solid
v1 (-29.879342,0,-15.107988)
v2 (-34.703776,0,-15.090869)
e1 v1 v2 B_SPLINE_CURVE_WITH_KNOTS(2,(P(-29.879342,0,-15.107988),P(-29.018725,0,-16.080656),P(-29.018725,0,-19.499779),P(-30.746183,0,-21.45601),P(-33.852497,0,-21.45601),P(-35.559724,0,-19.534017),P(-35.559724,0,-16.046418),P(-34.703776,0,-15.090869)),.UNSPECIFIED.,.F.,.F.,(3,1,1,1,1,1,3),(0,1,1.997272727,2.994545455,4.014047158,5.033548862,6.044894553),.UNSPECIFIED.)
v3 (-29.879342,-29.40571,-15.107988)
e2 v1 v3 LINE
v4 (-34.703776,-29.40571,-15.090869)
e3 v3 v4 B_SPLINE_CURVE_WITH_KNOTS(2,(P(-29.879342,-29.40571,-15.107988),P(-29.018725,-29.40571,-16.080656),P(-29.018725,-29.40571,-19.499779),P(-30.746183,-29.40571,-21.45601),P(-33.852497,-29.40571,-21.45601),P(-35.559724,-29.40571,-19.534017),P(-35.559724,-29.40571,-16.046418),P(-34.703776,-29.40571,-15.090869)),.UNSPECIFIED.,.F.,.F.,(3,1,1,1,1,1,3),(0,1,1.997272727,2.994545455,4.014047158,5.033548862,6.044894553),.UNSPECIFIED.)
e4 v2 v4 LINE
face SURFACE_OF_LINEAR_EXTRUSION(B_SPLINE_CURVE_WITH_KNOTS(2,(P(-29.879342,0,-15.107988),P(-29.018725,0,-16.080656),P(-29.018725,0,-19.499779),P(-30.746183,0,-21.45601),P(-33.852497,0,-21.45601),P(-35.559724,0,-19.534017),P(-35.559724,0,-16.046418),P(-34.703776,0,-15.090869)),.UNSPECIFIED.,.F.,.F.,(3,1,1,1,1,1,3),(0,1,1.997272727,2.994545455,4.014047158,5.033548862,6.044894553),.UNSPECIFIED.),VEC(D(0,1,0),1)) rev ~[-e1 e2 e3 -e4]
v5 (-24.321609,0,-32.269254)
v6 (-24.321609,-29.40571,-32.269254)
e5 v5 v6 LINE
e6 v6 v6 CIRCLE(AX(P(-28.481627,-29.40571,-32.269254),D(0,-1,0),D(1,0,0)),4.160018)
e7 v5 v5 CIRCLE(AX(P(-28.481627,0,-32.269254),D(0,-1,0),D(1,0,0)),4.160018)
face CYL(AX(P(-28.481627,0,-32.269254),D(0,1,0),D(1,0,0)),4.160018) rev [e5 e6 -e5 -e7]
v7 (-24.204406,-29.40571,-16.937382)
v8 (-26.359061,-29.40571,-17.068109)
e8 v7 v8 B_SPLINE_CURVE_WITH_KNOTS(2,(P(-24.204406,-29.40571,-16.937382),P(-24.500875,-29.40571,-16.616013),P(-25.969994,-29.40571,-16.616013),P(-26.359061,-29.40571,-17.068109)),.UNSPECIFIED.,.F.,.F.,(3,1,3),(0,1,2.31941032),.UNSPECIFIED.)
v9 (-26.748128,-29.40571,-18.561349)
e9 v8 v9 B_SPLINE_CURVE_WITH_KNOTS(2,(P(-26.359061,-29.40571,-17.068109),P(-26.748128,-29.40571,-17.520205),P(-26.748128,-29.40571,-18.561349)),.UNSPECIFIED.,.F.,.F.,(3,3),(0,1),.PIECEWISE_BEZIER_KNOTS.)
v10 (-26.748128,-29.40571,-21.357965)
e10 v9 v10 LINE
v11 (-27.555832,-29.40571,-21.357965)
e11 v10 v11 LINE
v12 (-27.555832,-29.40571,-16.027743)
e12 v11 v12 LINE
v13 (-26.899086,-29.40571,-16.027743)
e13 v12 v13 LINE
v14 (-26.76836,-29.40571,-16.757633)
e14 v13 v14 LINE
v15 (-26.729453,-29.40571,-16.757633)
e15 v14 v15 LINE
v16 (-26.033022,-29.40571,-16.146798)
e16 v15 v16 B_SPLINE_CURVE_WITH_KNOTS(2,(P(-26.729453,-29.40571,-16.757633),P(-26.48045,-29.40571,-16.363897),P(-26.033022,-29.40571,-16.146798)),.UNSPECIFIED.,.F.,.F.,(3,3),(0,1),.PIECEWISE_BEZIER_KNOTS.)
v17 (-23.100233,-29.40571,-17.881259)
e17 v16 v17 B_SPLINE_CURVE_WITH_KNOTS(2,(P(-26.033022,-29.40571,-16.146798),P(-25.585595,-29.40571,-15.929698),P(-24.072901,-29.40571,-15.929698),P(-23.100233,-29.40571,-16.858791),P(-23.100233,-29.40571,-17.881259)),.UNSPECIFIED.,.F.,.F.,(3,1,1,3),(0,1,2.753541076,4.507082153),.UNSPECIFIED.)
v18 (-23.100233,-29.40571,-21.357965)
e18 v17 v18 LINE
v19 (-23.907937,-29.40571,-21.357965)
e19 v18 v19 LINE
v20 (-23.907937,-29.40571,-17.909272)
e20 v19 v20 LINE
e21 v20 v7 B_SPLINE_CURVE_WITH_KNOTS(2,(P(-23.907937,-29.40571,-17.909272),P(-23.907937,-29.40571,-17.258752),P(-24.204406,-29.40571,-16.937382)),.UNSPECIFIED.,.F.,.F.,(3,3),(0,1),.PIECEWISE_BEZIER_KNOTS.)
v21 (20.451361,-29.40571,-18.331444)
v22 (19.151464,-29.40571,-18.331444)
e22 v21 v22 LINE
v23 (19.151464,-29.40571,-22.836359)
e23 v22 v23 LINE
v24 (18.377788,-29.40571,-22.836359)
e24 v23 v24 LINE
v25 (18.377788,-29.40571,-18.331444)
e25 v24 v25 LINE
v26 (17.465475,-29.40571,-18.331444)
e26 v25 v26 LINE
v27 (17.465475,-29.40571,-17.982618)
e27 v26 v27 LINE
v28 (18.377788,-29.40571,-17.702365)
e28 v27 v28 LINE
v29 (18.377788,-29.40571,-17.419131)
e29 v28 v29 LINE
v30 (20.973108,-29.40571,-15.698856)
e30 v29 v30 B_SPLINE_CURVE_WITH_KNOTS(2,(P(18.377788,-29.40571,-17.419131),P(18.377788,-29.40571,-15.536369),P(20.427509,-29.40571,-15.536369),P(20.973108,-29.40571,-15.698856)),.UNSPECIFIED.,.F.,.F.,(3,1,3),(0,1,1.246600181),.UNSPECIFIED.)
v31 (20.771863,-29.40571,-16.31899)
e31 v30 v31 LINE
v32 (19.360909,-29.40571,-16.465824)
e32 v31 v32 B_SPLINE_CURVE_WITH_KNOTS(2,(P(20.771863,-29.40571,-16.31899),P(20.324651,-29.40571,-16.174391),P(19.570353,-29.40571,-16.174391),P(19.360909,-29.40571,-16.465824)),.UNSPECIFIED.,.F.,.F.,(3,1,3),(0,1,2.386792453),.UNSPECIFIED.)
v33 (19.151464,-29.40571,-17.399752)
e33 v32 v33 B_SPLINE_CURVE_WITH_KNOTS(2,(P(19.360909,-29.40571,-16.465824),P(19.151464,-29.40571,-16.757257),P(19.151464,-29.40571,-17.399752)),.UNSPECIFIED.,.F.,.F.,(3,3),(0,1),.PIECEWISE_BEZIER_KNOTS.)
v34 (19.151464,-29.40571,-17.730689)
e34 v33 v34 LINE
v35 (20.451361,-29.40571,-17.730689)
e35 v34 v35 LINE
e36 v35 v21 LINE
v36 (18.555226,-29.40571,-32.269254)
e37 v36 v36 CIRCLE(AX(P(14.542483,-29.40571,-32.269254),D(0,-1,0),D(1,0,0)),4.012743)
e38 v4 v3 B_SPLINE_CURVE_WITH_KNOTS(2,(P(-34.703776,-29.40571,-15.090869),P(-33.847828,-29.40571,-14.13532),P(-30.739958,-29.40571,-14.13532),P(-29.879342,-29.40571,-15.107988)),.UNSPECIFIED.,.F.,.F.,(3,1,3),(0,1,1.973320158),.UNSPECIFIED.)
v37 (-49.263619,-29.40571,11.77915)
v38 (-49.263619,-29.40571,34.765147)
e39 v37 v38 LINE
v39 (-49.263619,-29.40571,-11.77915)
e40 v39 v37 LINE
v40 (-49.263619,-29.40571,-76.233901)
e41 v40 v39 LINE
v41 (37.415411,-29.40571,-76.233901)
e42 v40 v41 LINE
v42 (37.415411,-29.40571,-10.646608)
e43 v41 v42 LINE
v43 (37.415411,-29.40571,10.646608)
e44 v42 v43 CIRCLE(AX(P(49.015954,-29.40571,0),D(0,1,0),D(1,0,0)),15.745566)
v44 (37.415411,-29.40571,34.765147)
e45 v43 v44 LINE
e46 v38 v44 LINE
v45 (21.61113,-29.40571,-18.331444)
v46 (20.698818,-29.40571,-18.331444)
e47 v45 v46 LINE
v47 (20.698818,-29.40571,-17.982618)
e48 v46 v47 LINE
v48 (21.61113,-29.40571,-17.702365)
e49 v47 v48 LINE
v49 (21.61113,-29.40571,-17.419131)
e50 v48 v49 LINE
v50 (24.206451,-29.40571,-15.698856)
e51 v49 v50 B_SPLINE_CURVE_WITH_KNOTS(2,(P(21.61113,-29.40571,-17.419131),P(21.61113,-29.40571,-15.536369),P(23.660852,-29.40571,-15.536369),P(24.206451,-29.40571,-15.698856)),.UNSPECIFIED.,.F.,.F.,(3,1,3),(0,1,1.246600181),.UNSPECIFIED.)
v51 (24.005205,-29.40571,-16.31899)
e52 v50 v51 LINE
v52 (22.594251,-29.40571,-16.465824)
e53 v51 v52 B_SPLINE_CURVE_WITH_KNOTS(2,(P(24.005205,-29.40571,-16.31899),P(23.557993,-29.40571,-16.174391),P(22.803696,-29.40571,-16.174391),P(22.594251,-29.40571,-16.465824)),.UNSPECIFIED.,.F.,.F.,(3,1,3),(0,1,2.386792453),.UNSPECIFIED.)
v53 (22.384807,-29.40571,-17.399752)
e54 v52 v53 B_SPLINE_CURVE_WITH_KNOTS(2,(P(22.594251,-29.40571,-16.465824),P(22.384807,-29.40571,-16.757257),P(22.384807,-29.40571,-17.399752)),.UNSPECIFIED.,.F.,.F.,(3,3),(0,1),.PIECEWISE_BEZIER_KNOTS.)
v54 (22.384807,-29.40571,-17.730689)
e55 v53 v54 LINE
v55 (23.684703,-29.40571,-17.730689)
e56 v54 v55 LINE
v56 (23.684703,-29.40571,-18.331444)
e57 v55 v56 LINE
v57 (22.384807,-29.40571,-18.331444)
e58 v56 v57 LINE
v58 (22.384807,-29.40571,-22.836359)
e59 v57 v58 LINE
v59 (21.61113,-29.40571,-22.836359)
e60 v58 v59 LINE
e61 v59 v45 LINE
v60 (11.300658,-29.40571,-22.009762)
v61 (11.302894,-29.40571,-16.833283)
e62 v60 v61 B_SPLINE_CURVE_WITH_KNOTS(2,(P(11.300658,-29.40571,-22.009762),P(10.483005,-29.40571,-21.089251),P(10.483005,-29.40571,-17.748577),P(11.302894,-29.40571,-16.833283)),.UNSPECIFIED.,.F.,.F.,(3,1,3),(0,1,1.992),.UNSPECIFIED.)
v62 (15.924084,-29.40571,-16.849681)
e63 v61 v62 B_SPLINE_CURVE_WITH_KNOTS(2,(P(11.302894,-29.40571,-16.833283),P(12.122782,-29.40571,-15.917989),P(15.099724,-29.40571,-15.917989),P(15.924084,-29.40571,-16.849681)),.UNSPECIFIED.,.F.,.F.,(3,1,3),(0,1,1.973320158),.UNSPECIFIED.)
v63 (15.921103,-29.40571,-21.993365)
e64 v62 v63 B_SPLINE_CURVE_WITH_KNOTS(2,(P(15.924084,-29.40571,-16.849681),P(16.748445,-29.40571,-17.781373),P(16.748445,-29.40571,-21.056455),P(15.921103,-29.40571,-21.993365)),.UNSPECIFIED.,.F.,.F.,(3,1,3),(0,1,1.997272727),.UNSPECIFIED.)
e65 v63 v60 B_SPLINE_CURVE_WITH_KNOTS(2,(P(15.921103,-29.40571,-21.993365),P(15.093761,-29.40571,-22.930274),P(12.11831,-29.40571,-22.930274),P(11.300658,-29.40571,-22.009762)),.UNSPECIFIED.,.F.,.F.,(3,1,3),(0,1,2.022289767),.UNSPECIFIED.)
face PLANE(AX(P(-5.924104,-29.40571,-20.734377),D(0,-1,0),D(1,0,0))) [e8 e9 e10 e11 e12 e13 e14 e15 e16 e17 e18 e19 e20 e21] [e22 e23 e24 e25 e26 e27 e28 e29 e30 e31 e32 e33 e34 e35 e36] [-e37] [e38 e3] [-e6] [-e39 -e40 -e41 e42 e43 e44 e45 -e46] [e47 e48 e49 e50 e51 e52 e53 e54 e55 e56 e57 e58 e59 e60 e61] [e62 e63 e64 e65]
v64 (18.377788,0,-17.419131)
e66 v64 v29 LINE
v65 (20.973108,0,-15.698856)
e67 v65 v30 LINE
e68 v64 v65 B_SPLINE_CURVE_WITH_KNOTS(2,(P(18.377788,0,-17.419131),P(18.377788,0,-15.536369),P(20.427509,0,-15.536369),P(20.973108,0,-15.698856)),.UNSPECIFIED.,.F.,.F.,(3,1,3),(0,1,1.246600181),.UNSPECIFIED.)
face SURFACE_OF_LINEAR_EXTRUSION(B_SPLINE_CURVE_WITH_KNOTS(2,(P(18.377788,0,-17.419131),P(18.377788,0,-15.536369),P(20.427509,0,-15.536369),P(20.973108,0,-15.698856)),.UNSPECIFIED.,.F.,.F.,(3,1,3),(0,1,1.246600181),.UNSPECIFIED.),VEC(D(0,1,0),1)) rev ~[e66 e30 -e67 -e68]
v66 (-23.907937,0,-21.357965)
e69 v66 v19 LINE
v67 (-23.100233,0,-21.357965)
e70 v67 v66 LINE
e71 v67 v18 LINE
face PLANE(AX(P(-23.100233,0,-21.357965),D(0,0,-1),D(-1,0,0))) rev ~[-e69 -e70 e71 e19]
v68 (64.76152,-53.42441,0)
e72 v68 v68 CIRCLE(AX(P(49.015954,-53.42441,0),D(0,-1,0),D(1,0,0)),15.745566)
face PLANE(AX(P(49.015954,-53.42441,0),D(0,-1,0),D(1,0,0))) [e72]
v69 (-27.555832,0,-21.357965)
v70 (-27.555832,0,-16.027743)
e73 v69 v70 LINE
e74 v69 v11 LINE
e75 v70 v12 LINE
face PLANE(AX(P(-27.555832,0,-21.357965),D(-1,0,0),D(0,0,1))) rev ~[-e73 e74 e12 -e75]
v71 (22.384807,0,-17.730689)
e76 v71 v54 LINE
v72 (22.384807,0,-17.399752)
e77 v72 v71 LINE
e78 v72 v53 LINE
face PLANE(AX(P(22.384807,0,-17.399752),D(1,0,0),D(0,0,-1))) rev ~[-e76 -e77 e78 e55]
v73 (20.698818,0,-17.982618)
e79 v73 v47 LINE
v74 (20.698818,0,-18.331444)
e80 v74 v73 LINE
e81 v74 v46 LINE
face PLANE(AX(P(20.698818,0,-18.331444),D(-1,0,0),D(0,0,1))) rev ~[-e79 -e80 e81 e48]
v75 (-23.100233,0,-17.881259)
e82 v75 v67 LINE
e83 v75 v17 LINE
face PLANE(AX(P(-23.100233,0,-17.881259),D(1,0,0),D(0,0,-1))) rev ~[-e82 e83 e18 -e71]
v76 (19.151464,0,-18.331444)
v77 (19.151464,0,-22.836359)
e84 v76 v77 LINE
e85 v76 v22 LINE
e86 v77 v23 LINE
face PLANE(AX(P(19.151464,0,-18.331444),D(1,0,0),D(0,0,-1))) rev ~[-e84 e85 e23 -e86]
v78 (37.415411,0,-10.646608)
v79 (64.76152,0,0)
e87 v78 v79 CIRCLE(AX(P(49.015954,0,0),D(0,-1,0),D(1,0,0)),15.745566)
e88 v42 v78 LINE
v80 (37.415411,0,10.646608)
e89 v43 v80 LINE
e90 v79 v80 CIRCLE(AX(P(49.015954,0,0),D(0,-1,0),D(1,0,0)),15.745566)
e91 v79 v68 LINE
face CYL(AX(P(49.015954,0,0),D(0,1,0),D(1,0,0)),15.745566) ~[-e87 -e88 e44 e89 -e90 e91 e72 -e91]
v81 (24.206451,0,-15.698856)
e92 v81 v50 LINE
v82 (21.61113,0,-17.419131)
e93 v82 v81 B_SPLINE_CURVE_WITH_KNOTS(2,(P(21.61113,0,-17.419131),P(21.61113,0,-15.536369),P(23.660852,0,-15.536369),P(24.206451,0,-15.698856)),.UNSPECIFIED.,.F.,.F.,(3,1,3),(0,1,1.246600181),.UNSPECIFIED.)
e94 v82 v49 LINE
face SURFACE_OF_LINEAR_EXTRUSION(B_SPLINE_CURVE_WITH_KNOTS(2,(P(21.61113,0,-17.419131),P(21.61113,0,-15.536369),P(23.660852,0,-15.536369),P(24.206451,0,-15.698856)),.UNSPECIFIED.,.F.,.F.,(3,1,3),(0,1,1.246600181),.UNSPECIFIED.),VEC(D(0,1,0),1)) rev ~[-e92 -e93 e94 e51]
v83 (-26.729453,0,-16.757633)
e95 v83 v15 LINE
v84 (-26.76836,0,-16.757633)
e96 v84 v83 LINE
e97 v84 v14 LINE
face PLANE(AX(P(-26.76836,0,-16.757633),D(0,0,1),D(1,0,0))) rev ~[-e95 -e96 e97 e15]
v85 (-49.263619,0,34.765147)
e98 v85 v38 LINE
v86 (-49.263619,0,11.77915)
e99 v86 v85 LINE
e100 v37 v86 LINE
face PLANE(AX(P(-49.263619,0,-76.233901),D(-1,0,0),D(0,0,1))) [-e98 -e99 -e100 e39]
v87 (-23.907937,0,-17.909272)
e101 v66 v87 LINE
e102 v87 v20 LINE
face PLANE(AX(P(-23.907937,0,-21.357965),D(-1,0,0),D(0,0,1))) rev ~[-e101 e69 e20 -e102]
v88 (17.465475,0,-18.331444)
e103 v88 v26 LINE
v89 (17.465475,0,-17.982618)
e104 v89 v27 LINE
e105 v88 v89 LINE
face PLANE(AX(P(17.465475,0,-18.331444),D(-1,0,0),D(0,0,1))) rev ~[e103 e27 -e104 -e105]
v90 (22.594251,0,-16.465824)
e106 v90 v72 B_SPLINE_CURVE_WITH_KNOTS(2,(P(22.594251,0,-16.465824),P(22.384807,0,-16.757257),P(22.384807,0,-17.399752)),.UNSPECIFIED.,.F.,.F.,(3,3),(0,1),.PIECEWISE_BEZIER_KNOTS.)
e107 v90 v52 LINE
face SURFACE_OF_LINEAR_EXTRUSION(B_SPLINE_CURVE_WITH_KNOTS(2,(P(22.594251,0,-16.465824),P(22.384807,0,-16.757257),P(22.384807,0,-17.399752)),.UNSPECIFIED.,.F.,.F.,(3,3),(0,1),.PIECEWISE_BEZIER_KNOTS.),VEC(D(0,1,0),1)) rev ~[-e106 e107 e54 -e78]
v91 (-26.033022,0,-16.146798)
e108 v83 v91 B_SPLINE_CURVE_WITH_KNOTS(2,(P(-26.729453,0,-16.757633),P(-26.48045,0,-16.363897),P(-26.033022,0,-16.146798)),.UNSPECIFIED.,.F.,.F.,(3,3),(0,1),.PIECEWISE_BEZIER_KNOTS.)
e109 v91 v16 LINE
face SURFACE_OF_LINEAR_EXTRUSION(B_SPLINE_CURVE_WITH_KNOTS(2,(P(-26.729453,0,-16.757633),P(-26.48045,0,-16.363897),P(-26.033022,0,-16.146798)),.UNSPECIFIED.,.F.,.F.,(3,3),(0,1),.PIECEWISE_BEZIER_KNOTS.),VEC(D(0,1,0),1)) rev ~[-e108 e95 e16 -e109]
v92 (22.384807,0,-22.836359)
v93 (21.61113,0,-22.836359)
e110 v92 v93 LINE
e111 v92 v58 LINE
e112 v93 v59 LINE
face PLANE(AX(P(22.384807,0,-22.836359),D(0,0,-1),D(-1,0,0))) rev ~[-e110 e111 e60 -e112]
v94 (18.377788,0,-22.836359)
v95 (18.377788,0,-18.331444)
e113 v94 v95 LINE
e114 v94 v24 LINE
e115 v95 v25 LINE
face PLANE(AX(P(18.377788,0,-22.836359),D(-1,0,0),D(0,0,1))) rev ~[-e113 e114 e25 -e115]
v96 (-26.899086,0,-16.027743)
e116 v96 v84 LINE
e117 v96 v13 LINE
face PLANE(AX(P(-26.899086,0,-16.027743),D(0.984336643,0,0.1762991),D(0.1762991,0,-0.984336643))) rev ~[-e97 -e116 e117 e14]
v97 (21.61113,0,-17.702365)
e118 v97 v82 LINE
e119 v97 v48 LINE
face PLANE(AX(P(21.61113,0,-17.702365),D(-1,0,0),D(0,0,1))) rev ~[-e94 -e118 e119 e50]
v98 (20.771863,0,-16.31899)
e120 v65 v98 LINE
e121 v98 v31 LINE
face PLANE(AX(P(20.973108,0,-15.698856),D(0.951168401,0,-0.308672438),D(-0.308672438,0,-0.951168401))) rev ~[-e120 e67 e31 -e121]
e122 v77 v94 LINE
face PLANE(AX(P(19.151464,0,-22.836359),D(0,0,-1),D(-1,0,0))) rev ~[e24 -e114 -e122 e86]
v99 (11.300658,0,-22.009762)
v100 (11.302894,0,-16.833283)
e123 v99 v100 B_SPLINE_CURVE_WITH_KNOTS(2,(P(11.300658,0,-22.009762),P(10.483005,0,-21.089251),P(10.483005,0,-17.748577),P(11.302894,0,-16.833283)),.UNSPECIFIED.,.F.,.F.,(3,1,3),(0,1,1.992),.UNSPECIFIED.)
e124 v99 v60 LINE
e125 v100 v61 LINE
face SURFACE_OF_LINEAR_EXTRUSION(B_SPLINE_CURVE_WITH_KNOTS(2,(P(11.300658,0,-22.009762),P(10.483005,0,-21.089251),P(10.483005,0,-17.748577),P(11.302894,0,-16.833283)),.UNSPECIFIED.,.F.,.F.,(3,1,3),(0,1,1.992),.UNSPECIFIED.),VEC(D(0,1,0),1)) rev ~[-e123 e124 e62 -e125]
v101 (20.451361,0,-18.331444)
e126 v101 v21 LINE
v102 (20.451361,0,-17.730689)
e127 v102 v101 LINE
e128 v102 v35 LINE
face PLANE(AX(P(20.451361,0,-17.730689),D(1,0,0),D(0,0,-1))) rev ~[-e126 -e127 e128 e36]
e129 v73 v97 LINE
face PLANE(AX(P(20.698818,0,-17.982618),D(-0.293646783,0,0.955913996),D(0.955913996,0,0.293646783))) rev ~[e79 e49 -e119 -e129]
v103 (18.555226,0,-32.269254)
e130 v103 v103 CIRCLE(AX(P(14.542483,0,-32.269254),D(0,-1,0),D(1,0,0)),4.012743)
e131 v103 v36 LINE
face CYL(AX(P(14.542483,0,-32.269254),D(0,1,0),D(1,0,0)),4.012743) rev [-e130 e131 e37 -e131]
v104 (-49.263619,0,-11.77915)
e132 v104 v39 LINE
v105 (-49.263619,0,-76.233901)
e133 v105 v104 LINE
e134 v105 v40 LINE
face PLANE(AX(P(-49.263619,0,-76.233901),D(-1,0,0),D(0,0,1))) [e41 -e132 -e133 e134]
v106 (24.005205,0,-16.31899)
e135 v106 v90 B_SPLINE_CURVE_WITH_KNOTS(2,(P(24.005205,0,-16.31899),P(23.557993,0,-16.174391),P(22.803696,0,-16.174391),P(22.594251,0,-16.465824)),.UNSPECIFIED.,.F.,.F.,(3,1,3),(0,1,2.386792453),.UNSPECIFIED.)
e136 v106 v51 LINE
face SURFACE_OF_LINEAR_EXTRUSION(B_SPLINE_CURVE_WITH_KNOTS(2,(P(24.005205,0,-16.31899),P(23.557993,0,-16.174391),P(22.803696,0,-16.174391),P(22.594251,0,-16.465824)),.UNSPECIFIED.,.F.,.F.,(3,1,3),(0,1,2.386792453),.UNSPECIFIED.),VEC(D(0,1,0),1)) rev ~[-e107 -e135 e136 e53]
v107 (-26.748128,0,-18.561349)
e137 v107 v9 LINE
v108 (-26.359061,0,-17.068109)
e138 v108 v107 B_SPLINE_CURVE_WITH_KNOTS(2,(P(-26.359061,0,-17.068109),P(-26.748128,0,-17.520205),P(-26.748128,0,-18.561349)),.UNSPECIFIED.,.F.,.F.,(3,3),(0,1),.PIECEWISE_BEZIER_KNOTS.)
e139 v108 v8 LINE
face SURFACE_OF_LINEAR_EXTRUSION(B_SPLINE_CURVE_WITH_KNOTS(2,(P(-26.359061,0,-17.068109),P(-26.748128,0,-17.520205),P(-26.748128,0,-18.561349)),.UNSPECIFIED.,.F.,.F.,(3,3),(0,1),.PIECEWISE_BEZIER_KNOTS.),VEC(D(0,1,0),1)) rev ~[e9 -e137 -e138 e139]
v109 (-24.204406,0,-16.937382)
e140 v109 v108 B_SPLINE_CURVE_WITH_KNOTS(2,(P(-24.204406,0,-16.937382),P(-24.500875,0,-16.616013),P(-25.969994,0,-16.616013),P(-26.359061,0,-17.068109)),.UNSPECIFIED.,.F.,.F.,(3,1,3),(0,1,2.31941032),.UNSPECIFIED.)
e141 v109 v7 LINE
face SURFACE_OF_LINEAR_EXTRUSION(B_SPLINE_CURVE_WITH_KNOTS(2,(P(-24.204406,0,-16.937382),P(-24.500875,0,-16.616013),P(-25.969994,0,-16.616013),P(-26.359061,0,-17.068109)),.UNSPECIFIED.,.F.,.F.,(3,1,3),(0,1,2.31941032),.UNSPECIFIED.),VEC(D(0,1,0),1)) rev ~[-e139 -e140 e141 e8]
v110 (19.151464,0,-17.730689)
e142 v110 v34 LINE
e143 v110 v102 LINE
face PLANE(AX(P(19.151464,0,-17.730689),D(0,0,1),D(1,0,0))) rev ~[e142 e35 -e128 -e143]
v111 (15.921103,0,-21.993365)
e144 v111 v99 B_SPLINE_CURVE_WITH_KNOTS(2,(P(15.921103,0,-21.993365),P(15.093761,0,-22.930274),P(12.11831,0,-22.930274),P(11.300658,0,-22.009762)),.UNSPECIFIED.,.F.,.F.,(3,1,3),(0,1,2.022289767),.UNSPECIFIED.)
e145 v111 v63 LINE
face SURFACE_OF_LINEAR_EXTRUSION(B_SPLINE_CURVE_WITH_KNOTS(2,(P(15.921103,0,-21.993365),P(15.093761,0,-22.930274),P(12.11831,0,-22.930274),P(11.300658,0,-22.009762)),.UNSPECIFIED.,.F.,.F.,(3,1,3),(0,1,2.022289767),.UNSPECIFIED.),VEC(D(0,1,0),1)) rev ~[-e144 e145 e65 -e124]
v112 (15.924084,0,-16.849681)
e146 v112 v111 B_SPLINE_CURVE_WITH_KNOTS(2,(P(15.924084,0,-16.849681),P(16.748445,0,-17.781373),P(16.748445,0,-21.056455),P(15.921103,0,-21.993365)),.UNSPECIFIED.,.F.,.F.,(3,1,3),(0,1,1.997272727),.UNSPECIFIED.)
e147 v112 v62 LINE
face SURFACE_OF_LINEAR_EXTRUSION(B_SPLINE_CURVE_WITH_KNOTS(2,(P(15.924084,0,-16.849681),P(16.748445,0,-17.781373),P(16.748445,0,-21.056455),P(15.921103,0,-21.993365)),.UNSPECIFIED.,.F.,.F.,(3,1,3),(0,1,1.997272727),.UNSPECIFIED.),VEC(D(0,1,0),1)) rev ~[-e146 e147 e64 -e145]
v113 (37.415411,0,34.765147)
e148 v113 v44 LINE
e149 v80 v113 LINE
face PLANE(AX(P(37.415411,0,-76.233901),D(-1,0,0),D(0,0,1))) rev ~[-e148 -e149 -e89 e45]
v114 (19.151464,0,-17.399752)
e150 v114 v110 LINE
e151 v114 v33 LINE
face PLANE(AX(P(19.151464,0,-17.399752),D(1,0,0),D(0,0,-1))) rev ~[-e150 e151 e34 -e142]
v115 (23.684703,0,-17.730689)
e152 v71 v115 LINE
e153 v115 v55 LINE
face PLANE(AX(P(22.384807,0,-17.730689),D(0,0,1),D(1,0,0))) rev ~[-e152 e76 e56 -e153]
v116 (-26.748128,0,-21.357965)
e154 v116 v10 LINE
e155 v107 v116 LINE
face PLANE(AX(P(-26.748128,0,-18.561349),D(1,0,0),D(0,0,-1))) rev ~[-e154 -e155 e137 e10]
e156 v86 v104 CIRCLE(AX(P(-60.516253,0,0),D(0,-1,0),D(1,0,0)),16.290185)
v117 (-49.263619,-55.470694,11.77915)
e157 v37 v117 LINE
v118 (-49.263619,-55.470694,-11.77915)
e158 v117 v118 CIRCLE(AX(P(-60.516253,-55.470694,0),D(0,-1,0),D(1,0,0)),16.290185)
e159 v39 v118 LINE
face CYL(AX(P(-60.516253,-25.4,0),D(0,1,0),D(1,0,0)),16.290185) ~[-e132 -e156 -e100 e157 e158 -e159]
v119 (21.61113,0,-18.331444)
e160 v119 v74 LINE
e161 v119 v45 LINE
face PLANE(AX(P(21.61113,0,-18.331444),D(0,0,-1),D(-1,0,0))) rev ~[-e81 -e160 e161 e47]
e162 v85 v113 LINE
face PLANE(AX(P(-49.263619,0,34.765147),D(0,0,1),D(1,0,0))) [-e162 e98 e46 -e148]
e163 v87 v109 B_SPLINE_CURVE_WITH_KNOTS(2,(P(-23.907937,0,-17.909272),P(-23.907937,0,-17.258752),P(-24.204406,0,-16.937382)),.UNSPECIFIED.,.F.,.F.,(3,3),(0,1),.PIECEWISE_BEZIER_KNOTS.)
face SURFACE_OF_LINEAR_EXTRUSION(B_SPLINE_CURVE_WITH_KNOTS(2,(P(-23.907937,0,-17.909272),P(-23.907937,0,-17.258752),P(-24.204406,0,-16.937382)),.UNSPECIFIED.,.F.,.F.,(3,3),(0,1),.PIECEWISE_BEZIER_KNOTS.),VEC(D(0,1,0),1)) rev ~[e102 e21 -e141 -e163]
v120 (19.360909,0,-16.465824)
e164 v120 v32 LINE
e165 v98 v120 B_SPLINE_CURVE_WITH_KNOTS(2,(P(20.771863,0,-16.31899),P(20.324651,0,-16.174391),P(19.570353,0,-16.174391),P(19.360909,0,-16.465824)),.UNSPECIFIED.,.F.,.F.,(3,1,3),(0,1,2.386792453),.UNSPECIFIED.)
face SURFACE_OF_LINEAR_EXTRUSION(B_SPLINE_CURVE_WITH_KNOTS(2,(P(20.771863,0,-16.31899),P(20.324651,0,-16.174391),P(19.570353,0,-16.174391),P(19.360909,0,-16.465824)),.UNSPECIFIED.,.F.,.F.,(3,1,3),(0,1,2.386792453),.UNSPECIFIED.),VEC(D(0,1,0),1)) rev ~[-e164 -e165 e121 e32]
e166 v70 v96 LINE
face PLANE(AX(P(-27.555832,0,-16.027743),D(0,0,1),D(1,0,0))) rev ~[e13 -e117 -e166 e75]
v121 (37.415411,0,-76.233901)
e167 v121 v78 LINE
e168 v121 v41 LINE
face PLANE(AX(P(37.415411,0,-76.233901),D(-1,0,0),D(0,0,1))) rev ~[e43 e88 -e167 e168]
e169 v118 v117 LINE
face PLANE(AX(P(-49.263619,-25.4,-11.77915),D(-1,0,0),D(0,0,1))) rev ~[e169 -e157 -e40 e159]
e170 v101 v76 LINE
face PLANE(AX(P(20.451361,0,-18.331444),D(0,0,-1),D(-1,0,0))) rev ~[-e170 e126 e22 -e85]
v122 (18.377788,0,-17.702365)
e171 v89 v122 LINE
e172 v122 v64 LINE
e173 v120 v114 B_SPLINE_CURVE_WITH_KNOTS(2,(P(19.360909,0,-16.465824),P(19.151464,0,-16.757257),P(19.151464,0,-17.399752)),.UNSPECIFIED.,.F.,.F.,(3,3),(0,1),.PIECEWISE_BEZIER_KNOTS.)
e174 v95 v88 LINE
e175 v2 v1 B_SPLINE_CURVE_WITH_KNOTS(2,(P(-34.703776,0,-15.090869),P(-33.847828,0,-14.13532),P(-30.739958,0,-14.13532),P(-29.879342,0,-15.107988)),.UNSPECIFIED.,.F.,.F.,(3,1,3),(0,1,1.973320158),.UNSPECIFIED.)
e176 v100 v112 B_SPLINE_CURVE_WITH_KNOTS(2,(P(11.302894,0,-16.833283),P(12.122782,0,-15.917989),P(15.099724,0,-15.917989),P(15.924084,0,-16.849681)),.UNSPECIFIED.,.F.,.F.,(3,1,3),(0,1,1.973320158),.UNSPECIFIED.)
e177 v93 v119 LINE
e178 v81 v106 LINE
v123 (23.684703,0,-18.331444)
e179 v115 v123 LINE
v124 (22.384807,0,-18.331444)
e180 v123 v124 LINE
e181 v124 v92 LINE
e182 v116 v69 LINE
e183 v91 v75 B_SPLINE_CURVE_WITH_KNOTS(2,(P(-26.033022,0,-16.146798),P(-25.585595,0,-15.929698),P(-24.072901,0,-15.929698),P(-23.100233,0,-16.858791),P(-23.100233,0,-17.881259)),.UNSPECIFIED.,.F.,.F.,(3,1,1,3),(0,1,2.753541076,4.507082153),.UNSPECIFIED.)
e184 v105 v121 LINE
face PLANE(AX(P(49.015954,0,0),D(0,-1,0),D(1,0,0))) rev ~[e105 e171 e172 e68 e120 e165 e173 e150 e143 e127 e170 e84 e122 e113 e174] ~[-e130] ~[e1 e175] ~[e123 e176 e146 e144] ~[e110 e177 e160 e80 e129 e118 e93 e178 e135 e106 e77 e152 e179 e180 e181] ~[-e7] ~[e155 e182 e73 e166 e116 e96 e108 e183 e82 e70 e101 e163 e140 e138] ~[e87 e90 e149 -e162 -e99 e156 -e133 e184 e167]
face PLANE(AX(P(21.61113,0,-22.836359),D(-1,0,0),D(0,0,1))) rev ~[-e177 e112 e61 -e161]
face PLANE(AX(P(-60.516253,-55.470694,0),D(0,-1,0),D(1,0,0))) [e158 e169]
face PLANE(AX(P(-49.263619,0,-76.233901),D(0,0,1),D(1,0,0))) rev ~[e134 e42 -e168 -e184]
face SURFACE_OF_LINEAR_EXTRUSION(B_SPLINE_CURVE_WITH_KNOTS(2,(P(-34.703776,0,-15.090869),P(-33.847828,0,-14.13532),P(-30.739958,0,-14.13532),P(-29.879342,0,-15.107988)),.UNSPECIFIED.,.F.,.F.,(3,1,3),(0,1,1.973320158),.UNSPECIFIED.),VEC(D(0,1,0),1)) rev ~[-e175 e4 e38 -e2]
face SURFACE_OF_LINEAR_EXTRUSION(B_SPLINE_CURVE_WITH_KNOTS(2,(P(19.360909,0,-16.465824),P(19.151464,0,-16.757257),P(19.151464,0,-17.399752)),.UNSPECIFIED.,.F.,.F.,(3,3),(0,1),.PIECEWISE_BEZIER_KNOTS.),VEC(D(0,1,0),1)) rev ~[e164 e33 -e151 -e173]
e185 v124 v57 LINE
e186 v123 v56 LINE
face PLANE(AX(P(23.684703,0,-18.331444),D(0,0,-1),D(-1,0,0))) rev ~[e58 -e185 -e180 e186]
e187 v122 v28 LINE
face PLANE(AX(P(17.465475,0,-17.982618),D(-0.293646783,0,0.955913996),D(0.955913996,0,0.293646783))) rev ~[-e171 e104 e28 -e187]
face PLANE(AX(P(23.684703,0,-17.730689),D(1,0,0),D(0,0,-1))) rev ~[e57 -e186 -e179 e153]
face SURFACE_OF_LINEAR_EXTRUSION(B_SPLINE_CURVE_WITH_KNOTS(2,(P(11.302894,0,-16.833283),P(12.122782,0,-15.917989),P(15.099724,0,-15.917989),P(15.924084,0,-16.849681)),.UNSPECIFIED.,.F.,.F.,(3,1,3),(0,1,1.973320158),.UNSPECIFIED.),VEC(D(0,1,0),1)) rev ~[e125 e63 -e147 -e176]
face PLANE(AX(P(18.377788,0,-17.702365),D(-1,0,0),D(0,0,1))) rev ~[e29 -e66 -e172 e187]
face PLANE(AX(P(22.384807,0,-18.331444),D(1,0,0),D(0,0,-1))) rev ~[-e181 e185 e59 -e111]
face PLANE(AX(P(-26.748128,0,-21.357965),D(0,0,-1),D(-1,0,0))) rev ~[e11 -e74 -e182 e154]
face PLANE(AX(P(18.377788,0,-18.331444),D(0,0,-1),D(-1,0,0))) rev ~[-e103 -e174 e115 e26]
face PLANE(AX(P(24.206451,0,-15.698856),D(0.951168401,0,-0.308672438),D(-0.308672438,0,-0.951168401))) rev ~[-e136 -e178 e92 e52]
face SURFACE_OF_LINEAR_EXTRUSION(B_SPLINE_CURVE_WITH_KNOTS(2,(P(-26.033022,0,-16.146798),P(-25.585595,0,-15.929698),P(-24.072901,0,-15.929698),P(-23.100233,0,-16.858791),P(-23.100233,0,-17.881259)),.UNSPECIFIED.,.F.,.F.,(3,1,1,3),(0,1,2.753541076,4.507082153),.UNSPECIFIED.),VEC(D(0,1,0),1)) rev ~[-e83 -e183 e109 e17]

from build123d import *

# Parameters (mm, degrees)
F0_W     = 86.6790302098
F0_H     = 110.9990477562
F0_R     = 4.1600175763
F0_R_2   = 4.0127427681
F1_DEPTH = 29.40571
F2_R     = 16.2901854198
F3_DEPTH = 25.4
F2_R_2   = 18.5490265687
F4_DEPTH = 30.0706941634
F6_R     = 15.7455659212
F7_DEPTH = 53.42441


with BuildPart() as f1:
    # F0 (on Front) → F1 (new body)
    with BuildSketch(Plane.XZ):
        with Locations((-5.9241037816, -20.7343772054)):
            Rectangle(F0_W, F0_H)
        with Locations((-28.4816268831, -32.2692543268)):
            Circle(F0_R, mode=Mode.SUBTRACT)
        with Locations((14.5424827933, -32.2692543268)):
            Circle(F0_R_2, mode=Mode.SUBTRACT)
        with BuildLine():
            add(Edge.make_bspline(
                [(-29.8793415714, -15.1079879142), (-29.0187247447, -16.080656118), (-29.0187247447, -17.7925521566)],
                knots=[0, 0, 0, 1, 1, 1], degree=2))
            add(Edge.make_bspline(
                [(-29.0187247447, -17.7925521566), (-29.0187247447, -19.4997793878), (-29.8824541096, -20.4778945335)],
                knots=[0, 0, 0, 1, 1, 1], degree=2))
            add(Edge.make_bspline(
                [(-29.8824541096, -20.4778945335), (-30.7461834745, -21.4560096792), (-32.2822211019, -21.4560096792)],
                knots=[0, 0, 0, 1, 1, 1], degree=2))
            add(Edge.make_bspline(
                [(-32.2822211019, -21.4560096792), (-33.8524966501, -21.4560096792), (-34.7061102657, -20.4950134939)],
                knots=[0, 0, 0, 1, 1, 1], degree=2))
            add(Edge.make_bspline(
                [(-34.7061102657, -20.4950134939), (-35.5597238813, -19.5340173086), (-35.5597238813, -17.7832145419)],
                knots=[0, 0, 0, 1, 1, 1], degree=2))
            add(Edge.make_bspline(
                [(-35.5597238813, -17.7832145419), (-35.5597238813, -16.0464181972), (-34.703775862, -15.0908689538)],
                knots=[0, 0, 0, 1, 1, 1], degree=2))
            add(Edge.make_bspline(
                [(-34.703775862, -15.0908689538), (-33.8478278427, -14.1353197105), (-32.2728834872, -14.1353197105)],
                knots=[0, 0, 0, 1, 1, 1], degree=2))
            add(Edge.make_bspline(
                [(-32.2728834872, -14.1353197105), (-30.739958398, -14.1353197105), (-29.8793415714, -15.1079879142)],
                knots=[0, 0, 0, 1, 1, 1], degree=2))
        make_face(mode=Mode.SUBTRACT)
        with BuildLine():
            Line((-23.1002332584, -21.3579647243), (-23.9079369348, -21.3579647243))
            Line((-23.9079369348, -21.3579647243), (-23.9079369348, -17.9092723411))
            add(Edge.make_bspline(
                [(-23.9079369348, -17.9092723411), (-23.9079369348, -17.2587518464), (-24.2044062034, -16.9373822719)],
                knots=[0, 0, 0, 1, 1, 1], degree=2))
            add(Edge.make_bspline(
                [(-24.2044062034, -16.9373822719), (-24.5008754719, -16.6160126973), (-25.1342770061, -16.6160126973)],
                knots=[0, 0, 0, 1, 1, 1], degree=2))
            add(Edge.make_bspline(
                [(-25.1342770061, -16.6160126973), (-25.9699935268, -16.6160126973), (-26.3590608083, -17.0681088784)],
                knots=[0, 0, 0, 1, 1, 1], degree=2))
            add(Edge.make_bspline(
                [(-26.3590608083, -17.0681088784), (-26.7481280898, -17.5202050596), (-26.7481280898, -18.5613491049)],
                knots=[0, 0, 0, 1, 1, 1], degree=2))
            Line((-26.7481280898, -18.5613491049), (-26.7481280898, -21.3579647243))
            Line((-26.7481280898, -21.3579647243), (-27.5558317662, -21.3579647243))
            Line((-27.5558317662, -21.3579647243), (-27.5558317662, -16.0277429677))
            Line((-27.5558317662, -16.0277429677), (-26.899086195, -16.0277429677))
            Line((-26.899086195, -16.0277429677), (-26.7683595885, -16.7576331878))
            Line((-26.7683595885, -16.7576331878), (-26.7294528603, -16.7576331878))
            add(Edge.make_bspline(
                [(-26.7294528603, -16.7576331878), (-26.4804498001, -16.3638970989), (-26.0330224264, -16.1467975558)],
                knots=[0, 0, 0, 1, 1, 1], degree=2))
            add(Edge.make_bspline(
                [(-26.0330224264, -16.1467975558), (-25.5855950527, -15.9296980128), (-25.0362320512, -15.9296980128)],
                knots=[0, 0, 0, 1, 1, 1], degree=2))
            add(Edge.make_bspline(
                [(-25.0362320512, -15.9296980128), (-24.0729014622, -15.9296980128), (-23.5865673603, -16.3942443469)],
                knots=[0, 0, 0, 1, 1, 1], degree=2))
            add(Edge.make_bspline(
                [(-23.5865673603, -16.3942443469), (-23.1002332584, -16.858790681), (-23.1002332584, -17.8812594968)],
                knots=[0, 0, 0, 1, 1, 1], degree=2))
            Line((-23.1002332584, -17.8812594968), (-23.1002332584, -21.3579647243))
        make_face(mode=Mode.SUBTRACT)
        with BuildLine():
            add(Edge.make_bspline(
                [(15.9240844259, -16.8496811724), (16.7484452225, -17.7813728502), (16.7484452225, -19.4211502033)],
                knots=[0, 0, 0, 1, 1, 1], degree=2))
            add(Edge.make_bspline(
                [(16.7484452225, -19.4211502033), (16.7484452225, -21.0564554363), (15.9211030126, -21.9933645876)],
                knots=[0, 0, 0, 1, 1, 1], degree=2))
            add(Edge.make_bspline(
                [(15.9211030126, -21.9933645876), (15.0937608026, -22.9302737389), (13.6224333049, -22.9302737389)],
                knots=[0, 0, 0, 1, 1, 1], degree=2))
            add(Edge.make_bspline(
                [(13.6224333049, -22.9302737389), (12.1183102601, -22.9302737389), (11.3006576436, -22.0097623611)],
                knots=[0, 0, 0, 1, 1, 1], degree=2))
            add(Edge.make_bspline(
                [(11.3006576436, -22.0097623611), (10.4830050271, -21.0892509834), (10.4830050271, -19.4122059632)],
                knots=[0, 0, 0, 1, 1, 1], degree=2))
            add(Edge.make_bspline(
                [(10.4830050271, -19.4122059632), (10.4830050271, -17.7485773032), (11.3028937036, -16.8332833988)],
                knots=[0, 0, 0, 1, 1, 1], degree=2))
            add(Edge.make_bspline(
                [(11.3028937036, -16.8332833988), (12.1227823802, -15.9179894945), (13.631377545, -15.9179894945)],
                knots=[0, 0, 0, 1, 1, 1], degree=2))
            add(Edge.make_bspline(
                [(13.631377545, -15.9179894945), (15.0997236293, -15.9179894945), (15.9240844259, -16.8496811724)],
                knots=[0, 0, 0, 1, 1, 1], degree=2))
        make_face(mode=Mode.SUBTRACT)
        with BuildLine():
            Line((20.4513606271, -17.730688823), (20.4513606271, -18.3314436169))
            Line((20.4513606271, -18.3314436169), (19.1514643981, -18.3314436169))
            Line((19.1514643981, -18.3314436169), (19.1514643981, -22.8363592178))
            Line((19.1514643981, -22.8363592178), (18.3777876288, -22.8363592178))
            Line((18.3777876288, -22.8363592178), (18.3777876288, -18.3314436169))
            Line((18.3777876288, -18.3314436169), (17.4654751378, -18.3314436169))
            Line((17.4654751378, -18.3314436169), (17.4654751378, -17.9826182527))
            Line((17.4654751378, -17.9826182527), (18.3777876288, -17.702365396))
            Line((18.3777876288, -17.702365396), (18.3777876288, -17.4191311259))
            add(Edge.make_bspline(
                [(18.3777876288, -17.4191311259), (18.3777876288, -15.5363685832), (20.0220371019, -15.5363685832)],
                knots=[0, 0, 0, 1, 1, 1], degree=2))
            add(Edge.make_bspline(
                [(20.0220371019, -15.5363685832), (20.4275093201, -15.5363685832), (20.9731079667, -15.6988556118)],
                knots=[0, 0, 0, 1, 1, 1], degree=2))
            Line((20.9731079667, -15.6988556118), (20.7718625643, -16.3189895926))
            add(Edge.make_bspline(
                [(20.7718625643, -16.3189895926), (20.3246505589, -16.1743910442), (20.0086207418, -16.1743910442)],
                knots=[0, 0, 0, 1, 1, 1], degree=2))
            add(Edge.make_bspline(
                [(20.0086207418, -16.1743910442), (19.5703529765, -16.1743910442), (19.3609086873, -16.4658242011)],
                knots=[0, 0, 0, 1, 1, 1], degree=2))
            add(Edge.make_bspline(
                [(19.3609086873, -16.4658242011), (19.1514643981, -16.7572573579), (19.1514643981, -17.399751939)],
                knots=[0, 0, 0, 1, 1, 1], degree=2))
            Line((19.1514643981, -17.399751939), (19.1514643981, -17.730688823))
            Line((19.1514643981, -17.730688823), (20.4513606271, -17.730688823))
        make_face(mode=Mode.SUBTRACT)
        with BuildLine():
            Line((23.684703426, -17.730688823), (23.684703426, -18.3314436169))
            Line((23.684703426, -18.3314436169), (22.384807197, -18.3314436169))
            Line((22.384807197, -18.3314436169), (22.384807197, -22.8363592178))
            Line((22.384807197, -22.8363592178), (21.6111304277, -22.8363592178))
            Line((21.6111304277, -22.8363592178), (21.6111304277, -18.3314436169))
            Line((21.6111304277, -18.3314436169), (20.6988179367, -18.3314436169))
            Line((20.6988179367, -18.3314436169), (20.6988179367, -17.9826182527))
            Line((20.6988179367, -17.9826182527), (21.6111304277, -17.702365396))
            Line((21.6111304277, -17.702365396), (21.6111304277, -17.4191311259))
            add(Edge.make_bspline(
                [(21.6111304277, -17.4191311259), (21.6111304277, -15.5363685832), (23.2553799009, -15.5363685832)],
                knots=[0, 0, 0, 1, 1, 1], degree=2))
            add(Edge.make_bspline(
                [(23.2553799009, -15.5363685832), (23.6608521191, -15.5363685832), (24.2064507656, -15.6988556118)],
                knots=[0, 0, 0, 1, 1, 1], degree=2))
            Line((24.2064507656, -15.6988556118), (24.0052053632, -16.3189895926))
            add(Edge.make_bspline(
                [(24.0052053632, -16.3189895926), (23.5579933578, -16.1743910442), (23.2419635407, -16.1743910442)],
                knots=[0, 0, 0, 1, 1, 1], degree=2))
            add(Edge.make_bspline(
                [(23.2419635407, -16.1743910442), (22.8036957754, -16.1743910442), (22.5942514862, -16.4658242011)],
                knots=[0, 0, 0, 1, 1, 1], degree=2))
            add(Edge.make_bspline(
                [(22.5942514862, -16.4658242011), (22.384807197, -16.7572573579), (22.384807197, -17.399751939)],
                knots=[0, 0, 0, 1, 1, 1], degree=2))
            Line((22.384807197, -17.399751939), (22.384807197, -17.730688823))
            Line((22.384807197, -17.730688823), (23.684703426, -17.730688823))
        make_face(mode=Mode.SUBTRACT)
    extrude(amount=F1_DEPTH)

    # F2 (on Front) → F3 (join)
    with BuildSketch(Plane.XZ):
        with Locations((-60.5162531137, 0)):
            Circle(F2_R)
    extrude(amount=F3_DEPTH)

    # F4 (add): a face of the model
    f4_faces = [f1.faces().sort_by_distance(p)[0] for p in [
        (-61.9656260946, -25.4, 0),
    ]]
    extrude(f4_faces, amount=F4_DEPTH)

    # F6 (on Front) → F7 (join)
    with BuildSketch(Plane.XZ):
        with Locations((49.0159541368, 0)):
            Circle(F6_R)
    extrude(amount=F7_DEPTH)


with BuildPart() as f3:
    # F2 (on Front) → F3, piece 2 (new body)
    with BuildSketch(Plane.XZ):
        with Locations((56.2986545265, 0)):
            Circle(F2_R_2)
    extrude(amount=F3_DEPTH)


solid = f1.part
